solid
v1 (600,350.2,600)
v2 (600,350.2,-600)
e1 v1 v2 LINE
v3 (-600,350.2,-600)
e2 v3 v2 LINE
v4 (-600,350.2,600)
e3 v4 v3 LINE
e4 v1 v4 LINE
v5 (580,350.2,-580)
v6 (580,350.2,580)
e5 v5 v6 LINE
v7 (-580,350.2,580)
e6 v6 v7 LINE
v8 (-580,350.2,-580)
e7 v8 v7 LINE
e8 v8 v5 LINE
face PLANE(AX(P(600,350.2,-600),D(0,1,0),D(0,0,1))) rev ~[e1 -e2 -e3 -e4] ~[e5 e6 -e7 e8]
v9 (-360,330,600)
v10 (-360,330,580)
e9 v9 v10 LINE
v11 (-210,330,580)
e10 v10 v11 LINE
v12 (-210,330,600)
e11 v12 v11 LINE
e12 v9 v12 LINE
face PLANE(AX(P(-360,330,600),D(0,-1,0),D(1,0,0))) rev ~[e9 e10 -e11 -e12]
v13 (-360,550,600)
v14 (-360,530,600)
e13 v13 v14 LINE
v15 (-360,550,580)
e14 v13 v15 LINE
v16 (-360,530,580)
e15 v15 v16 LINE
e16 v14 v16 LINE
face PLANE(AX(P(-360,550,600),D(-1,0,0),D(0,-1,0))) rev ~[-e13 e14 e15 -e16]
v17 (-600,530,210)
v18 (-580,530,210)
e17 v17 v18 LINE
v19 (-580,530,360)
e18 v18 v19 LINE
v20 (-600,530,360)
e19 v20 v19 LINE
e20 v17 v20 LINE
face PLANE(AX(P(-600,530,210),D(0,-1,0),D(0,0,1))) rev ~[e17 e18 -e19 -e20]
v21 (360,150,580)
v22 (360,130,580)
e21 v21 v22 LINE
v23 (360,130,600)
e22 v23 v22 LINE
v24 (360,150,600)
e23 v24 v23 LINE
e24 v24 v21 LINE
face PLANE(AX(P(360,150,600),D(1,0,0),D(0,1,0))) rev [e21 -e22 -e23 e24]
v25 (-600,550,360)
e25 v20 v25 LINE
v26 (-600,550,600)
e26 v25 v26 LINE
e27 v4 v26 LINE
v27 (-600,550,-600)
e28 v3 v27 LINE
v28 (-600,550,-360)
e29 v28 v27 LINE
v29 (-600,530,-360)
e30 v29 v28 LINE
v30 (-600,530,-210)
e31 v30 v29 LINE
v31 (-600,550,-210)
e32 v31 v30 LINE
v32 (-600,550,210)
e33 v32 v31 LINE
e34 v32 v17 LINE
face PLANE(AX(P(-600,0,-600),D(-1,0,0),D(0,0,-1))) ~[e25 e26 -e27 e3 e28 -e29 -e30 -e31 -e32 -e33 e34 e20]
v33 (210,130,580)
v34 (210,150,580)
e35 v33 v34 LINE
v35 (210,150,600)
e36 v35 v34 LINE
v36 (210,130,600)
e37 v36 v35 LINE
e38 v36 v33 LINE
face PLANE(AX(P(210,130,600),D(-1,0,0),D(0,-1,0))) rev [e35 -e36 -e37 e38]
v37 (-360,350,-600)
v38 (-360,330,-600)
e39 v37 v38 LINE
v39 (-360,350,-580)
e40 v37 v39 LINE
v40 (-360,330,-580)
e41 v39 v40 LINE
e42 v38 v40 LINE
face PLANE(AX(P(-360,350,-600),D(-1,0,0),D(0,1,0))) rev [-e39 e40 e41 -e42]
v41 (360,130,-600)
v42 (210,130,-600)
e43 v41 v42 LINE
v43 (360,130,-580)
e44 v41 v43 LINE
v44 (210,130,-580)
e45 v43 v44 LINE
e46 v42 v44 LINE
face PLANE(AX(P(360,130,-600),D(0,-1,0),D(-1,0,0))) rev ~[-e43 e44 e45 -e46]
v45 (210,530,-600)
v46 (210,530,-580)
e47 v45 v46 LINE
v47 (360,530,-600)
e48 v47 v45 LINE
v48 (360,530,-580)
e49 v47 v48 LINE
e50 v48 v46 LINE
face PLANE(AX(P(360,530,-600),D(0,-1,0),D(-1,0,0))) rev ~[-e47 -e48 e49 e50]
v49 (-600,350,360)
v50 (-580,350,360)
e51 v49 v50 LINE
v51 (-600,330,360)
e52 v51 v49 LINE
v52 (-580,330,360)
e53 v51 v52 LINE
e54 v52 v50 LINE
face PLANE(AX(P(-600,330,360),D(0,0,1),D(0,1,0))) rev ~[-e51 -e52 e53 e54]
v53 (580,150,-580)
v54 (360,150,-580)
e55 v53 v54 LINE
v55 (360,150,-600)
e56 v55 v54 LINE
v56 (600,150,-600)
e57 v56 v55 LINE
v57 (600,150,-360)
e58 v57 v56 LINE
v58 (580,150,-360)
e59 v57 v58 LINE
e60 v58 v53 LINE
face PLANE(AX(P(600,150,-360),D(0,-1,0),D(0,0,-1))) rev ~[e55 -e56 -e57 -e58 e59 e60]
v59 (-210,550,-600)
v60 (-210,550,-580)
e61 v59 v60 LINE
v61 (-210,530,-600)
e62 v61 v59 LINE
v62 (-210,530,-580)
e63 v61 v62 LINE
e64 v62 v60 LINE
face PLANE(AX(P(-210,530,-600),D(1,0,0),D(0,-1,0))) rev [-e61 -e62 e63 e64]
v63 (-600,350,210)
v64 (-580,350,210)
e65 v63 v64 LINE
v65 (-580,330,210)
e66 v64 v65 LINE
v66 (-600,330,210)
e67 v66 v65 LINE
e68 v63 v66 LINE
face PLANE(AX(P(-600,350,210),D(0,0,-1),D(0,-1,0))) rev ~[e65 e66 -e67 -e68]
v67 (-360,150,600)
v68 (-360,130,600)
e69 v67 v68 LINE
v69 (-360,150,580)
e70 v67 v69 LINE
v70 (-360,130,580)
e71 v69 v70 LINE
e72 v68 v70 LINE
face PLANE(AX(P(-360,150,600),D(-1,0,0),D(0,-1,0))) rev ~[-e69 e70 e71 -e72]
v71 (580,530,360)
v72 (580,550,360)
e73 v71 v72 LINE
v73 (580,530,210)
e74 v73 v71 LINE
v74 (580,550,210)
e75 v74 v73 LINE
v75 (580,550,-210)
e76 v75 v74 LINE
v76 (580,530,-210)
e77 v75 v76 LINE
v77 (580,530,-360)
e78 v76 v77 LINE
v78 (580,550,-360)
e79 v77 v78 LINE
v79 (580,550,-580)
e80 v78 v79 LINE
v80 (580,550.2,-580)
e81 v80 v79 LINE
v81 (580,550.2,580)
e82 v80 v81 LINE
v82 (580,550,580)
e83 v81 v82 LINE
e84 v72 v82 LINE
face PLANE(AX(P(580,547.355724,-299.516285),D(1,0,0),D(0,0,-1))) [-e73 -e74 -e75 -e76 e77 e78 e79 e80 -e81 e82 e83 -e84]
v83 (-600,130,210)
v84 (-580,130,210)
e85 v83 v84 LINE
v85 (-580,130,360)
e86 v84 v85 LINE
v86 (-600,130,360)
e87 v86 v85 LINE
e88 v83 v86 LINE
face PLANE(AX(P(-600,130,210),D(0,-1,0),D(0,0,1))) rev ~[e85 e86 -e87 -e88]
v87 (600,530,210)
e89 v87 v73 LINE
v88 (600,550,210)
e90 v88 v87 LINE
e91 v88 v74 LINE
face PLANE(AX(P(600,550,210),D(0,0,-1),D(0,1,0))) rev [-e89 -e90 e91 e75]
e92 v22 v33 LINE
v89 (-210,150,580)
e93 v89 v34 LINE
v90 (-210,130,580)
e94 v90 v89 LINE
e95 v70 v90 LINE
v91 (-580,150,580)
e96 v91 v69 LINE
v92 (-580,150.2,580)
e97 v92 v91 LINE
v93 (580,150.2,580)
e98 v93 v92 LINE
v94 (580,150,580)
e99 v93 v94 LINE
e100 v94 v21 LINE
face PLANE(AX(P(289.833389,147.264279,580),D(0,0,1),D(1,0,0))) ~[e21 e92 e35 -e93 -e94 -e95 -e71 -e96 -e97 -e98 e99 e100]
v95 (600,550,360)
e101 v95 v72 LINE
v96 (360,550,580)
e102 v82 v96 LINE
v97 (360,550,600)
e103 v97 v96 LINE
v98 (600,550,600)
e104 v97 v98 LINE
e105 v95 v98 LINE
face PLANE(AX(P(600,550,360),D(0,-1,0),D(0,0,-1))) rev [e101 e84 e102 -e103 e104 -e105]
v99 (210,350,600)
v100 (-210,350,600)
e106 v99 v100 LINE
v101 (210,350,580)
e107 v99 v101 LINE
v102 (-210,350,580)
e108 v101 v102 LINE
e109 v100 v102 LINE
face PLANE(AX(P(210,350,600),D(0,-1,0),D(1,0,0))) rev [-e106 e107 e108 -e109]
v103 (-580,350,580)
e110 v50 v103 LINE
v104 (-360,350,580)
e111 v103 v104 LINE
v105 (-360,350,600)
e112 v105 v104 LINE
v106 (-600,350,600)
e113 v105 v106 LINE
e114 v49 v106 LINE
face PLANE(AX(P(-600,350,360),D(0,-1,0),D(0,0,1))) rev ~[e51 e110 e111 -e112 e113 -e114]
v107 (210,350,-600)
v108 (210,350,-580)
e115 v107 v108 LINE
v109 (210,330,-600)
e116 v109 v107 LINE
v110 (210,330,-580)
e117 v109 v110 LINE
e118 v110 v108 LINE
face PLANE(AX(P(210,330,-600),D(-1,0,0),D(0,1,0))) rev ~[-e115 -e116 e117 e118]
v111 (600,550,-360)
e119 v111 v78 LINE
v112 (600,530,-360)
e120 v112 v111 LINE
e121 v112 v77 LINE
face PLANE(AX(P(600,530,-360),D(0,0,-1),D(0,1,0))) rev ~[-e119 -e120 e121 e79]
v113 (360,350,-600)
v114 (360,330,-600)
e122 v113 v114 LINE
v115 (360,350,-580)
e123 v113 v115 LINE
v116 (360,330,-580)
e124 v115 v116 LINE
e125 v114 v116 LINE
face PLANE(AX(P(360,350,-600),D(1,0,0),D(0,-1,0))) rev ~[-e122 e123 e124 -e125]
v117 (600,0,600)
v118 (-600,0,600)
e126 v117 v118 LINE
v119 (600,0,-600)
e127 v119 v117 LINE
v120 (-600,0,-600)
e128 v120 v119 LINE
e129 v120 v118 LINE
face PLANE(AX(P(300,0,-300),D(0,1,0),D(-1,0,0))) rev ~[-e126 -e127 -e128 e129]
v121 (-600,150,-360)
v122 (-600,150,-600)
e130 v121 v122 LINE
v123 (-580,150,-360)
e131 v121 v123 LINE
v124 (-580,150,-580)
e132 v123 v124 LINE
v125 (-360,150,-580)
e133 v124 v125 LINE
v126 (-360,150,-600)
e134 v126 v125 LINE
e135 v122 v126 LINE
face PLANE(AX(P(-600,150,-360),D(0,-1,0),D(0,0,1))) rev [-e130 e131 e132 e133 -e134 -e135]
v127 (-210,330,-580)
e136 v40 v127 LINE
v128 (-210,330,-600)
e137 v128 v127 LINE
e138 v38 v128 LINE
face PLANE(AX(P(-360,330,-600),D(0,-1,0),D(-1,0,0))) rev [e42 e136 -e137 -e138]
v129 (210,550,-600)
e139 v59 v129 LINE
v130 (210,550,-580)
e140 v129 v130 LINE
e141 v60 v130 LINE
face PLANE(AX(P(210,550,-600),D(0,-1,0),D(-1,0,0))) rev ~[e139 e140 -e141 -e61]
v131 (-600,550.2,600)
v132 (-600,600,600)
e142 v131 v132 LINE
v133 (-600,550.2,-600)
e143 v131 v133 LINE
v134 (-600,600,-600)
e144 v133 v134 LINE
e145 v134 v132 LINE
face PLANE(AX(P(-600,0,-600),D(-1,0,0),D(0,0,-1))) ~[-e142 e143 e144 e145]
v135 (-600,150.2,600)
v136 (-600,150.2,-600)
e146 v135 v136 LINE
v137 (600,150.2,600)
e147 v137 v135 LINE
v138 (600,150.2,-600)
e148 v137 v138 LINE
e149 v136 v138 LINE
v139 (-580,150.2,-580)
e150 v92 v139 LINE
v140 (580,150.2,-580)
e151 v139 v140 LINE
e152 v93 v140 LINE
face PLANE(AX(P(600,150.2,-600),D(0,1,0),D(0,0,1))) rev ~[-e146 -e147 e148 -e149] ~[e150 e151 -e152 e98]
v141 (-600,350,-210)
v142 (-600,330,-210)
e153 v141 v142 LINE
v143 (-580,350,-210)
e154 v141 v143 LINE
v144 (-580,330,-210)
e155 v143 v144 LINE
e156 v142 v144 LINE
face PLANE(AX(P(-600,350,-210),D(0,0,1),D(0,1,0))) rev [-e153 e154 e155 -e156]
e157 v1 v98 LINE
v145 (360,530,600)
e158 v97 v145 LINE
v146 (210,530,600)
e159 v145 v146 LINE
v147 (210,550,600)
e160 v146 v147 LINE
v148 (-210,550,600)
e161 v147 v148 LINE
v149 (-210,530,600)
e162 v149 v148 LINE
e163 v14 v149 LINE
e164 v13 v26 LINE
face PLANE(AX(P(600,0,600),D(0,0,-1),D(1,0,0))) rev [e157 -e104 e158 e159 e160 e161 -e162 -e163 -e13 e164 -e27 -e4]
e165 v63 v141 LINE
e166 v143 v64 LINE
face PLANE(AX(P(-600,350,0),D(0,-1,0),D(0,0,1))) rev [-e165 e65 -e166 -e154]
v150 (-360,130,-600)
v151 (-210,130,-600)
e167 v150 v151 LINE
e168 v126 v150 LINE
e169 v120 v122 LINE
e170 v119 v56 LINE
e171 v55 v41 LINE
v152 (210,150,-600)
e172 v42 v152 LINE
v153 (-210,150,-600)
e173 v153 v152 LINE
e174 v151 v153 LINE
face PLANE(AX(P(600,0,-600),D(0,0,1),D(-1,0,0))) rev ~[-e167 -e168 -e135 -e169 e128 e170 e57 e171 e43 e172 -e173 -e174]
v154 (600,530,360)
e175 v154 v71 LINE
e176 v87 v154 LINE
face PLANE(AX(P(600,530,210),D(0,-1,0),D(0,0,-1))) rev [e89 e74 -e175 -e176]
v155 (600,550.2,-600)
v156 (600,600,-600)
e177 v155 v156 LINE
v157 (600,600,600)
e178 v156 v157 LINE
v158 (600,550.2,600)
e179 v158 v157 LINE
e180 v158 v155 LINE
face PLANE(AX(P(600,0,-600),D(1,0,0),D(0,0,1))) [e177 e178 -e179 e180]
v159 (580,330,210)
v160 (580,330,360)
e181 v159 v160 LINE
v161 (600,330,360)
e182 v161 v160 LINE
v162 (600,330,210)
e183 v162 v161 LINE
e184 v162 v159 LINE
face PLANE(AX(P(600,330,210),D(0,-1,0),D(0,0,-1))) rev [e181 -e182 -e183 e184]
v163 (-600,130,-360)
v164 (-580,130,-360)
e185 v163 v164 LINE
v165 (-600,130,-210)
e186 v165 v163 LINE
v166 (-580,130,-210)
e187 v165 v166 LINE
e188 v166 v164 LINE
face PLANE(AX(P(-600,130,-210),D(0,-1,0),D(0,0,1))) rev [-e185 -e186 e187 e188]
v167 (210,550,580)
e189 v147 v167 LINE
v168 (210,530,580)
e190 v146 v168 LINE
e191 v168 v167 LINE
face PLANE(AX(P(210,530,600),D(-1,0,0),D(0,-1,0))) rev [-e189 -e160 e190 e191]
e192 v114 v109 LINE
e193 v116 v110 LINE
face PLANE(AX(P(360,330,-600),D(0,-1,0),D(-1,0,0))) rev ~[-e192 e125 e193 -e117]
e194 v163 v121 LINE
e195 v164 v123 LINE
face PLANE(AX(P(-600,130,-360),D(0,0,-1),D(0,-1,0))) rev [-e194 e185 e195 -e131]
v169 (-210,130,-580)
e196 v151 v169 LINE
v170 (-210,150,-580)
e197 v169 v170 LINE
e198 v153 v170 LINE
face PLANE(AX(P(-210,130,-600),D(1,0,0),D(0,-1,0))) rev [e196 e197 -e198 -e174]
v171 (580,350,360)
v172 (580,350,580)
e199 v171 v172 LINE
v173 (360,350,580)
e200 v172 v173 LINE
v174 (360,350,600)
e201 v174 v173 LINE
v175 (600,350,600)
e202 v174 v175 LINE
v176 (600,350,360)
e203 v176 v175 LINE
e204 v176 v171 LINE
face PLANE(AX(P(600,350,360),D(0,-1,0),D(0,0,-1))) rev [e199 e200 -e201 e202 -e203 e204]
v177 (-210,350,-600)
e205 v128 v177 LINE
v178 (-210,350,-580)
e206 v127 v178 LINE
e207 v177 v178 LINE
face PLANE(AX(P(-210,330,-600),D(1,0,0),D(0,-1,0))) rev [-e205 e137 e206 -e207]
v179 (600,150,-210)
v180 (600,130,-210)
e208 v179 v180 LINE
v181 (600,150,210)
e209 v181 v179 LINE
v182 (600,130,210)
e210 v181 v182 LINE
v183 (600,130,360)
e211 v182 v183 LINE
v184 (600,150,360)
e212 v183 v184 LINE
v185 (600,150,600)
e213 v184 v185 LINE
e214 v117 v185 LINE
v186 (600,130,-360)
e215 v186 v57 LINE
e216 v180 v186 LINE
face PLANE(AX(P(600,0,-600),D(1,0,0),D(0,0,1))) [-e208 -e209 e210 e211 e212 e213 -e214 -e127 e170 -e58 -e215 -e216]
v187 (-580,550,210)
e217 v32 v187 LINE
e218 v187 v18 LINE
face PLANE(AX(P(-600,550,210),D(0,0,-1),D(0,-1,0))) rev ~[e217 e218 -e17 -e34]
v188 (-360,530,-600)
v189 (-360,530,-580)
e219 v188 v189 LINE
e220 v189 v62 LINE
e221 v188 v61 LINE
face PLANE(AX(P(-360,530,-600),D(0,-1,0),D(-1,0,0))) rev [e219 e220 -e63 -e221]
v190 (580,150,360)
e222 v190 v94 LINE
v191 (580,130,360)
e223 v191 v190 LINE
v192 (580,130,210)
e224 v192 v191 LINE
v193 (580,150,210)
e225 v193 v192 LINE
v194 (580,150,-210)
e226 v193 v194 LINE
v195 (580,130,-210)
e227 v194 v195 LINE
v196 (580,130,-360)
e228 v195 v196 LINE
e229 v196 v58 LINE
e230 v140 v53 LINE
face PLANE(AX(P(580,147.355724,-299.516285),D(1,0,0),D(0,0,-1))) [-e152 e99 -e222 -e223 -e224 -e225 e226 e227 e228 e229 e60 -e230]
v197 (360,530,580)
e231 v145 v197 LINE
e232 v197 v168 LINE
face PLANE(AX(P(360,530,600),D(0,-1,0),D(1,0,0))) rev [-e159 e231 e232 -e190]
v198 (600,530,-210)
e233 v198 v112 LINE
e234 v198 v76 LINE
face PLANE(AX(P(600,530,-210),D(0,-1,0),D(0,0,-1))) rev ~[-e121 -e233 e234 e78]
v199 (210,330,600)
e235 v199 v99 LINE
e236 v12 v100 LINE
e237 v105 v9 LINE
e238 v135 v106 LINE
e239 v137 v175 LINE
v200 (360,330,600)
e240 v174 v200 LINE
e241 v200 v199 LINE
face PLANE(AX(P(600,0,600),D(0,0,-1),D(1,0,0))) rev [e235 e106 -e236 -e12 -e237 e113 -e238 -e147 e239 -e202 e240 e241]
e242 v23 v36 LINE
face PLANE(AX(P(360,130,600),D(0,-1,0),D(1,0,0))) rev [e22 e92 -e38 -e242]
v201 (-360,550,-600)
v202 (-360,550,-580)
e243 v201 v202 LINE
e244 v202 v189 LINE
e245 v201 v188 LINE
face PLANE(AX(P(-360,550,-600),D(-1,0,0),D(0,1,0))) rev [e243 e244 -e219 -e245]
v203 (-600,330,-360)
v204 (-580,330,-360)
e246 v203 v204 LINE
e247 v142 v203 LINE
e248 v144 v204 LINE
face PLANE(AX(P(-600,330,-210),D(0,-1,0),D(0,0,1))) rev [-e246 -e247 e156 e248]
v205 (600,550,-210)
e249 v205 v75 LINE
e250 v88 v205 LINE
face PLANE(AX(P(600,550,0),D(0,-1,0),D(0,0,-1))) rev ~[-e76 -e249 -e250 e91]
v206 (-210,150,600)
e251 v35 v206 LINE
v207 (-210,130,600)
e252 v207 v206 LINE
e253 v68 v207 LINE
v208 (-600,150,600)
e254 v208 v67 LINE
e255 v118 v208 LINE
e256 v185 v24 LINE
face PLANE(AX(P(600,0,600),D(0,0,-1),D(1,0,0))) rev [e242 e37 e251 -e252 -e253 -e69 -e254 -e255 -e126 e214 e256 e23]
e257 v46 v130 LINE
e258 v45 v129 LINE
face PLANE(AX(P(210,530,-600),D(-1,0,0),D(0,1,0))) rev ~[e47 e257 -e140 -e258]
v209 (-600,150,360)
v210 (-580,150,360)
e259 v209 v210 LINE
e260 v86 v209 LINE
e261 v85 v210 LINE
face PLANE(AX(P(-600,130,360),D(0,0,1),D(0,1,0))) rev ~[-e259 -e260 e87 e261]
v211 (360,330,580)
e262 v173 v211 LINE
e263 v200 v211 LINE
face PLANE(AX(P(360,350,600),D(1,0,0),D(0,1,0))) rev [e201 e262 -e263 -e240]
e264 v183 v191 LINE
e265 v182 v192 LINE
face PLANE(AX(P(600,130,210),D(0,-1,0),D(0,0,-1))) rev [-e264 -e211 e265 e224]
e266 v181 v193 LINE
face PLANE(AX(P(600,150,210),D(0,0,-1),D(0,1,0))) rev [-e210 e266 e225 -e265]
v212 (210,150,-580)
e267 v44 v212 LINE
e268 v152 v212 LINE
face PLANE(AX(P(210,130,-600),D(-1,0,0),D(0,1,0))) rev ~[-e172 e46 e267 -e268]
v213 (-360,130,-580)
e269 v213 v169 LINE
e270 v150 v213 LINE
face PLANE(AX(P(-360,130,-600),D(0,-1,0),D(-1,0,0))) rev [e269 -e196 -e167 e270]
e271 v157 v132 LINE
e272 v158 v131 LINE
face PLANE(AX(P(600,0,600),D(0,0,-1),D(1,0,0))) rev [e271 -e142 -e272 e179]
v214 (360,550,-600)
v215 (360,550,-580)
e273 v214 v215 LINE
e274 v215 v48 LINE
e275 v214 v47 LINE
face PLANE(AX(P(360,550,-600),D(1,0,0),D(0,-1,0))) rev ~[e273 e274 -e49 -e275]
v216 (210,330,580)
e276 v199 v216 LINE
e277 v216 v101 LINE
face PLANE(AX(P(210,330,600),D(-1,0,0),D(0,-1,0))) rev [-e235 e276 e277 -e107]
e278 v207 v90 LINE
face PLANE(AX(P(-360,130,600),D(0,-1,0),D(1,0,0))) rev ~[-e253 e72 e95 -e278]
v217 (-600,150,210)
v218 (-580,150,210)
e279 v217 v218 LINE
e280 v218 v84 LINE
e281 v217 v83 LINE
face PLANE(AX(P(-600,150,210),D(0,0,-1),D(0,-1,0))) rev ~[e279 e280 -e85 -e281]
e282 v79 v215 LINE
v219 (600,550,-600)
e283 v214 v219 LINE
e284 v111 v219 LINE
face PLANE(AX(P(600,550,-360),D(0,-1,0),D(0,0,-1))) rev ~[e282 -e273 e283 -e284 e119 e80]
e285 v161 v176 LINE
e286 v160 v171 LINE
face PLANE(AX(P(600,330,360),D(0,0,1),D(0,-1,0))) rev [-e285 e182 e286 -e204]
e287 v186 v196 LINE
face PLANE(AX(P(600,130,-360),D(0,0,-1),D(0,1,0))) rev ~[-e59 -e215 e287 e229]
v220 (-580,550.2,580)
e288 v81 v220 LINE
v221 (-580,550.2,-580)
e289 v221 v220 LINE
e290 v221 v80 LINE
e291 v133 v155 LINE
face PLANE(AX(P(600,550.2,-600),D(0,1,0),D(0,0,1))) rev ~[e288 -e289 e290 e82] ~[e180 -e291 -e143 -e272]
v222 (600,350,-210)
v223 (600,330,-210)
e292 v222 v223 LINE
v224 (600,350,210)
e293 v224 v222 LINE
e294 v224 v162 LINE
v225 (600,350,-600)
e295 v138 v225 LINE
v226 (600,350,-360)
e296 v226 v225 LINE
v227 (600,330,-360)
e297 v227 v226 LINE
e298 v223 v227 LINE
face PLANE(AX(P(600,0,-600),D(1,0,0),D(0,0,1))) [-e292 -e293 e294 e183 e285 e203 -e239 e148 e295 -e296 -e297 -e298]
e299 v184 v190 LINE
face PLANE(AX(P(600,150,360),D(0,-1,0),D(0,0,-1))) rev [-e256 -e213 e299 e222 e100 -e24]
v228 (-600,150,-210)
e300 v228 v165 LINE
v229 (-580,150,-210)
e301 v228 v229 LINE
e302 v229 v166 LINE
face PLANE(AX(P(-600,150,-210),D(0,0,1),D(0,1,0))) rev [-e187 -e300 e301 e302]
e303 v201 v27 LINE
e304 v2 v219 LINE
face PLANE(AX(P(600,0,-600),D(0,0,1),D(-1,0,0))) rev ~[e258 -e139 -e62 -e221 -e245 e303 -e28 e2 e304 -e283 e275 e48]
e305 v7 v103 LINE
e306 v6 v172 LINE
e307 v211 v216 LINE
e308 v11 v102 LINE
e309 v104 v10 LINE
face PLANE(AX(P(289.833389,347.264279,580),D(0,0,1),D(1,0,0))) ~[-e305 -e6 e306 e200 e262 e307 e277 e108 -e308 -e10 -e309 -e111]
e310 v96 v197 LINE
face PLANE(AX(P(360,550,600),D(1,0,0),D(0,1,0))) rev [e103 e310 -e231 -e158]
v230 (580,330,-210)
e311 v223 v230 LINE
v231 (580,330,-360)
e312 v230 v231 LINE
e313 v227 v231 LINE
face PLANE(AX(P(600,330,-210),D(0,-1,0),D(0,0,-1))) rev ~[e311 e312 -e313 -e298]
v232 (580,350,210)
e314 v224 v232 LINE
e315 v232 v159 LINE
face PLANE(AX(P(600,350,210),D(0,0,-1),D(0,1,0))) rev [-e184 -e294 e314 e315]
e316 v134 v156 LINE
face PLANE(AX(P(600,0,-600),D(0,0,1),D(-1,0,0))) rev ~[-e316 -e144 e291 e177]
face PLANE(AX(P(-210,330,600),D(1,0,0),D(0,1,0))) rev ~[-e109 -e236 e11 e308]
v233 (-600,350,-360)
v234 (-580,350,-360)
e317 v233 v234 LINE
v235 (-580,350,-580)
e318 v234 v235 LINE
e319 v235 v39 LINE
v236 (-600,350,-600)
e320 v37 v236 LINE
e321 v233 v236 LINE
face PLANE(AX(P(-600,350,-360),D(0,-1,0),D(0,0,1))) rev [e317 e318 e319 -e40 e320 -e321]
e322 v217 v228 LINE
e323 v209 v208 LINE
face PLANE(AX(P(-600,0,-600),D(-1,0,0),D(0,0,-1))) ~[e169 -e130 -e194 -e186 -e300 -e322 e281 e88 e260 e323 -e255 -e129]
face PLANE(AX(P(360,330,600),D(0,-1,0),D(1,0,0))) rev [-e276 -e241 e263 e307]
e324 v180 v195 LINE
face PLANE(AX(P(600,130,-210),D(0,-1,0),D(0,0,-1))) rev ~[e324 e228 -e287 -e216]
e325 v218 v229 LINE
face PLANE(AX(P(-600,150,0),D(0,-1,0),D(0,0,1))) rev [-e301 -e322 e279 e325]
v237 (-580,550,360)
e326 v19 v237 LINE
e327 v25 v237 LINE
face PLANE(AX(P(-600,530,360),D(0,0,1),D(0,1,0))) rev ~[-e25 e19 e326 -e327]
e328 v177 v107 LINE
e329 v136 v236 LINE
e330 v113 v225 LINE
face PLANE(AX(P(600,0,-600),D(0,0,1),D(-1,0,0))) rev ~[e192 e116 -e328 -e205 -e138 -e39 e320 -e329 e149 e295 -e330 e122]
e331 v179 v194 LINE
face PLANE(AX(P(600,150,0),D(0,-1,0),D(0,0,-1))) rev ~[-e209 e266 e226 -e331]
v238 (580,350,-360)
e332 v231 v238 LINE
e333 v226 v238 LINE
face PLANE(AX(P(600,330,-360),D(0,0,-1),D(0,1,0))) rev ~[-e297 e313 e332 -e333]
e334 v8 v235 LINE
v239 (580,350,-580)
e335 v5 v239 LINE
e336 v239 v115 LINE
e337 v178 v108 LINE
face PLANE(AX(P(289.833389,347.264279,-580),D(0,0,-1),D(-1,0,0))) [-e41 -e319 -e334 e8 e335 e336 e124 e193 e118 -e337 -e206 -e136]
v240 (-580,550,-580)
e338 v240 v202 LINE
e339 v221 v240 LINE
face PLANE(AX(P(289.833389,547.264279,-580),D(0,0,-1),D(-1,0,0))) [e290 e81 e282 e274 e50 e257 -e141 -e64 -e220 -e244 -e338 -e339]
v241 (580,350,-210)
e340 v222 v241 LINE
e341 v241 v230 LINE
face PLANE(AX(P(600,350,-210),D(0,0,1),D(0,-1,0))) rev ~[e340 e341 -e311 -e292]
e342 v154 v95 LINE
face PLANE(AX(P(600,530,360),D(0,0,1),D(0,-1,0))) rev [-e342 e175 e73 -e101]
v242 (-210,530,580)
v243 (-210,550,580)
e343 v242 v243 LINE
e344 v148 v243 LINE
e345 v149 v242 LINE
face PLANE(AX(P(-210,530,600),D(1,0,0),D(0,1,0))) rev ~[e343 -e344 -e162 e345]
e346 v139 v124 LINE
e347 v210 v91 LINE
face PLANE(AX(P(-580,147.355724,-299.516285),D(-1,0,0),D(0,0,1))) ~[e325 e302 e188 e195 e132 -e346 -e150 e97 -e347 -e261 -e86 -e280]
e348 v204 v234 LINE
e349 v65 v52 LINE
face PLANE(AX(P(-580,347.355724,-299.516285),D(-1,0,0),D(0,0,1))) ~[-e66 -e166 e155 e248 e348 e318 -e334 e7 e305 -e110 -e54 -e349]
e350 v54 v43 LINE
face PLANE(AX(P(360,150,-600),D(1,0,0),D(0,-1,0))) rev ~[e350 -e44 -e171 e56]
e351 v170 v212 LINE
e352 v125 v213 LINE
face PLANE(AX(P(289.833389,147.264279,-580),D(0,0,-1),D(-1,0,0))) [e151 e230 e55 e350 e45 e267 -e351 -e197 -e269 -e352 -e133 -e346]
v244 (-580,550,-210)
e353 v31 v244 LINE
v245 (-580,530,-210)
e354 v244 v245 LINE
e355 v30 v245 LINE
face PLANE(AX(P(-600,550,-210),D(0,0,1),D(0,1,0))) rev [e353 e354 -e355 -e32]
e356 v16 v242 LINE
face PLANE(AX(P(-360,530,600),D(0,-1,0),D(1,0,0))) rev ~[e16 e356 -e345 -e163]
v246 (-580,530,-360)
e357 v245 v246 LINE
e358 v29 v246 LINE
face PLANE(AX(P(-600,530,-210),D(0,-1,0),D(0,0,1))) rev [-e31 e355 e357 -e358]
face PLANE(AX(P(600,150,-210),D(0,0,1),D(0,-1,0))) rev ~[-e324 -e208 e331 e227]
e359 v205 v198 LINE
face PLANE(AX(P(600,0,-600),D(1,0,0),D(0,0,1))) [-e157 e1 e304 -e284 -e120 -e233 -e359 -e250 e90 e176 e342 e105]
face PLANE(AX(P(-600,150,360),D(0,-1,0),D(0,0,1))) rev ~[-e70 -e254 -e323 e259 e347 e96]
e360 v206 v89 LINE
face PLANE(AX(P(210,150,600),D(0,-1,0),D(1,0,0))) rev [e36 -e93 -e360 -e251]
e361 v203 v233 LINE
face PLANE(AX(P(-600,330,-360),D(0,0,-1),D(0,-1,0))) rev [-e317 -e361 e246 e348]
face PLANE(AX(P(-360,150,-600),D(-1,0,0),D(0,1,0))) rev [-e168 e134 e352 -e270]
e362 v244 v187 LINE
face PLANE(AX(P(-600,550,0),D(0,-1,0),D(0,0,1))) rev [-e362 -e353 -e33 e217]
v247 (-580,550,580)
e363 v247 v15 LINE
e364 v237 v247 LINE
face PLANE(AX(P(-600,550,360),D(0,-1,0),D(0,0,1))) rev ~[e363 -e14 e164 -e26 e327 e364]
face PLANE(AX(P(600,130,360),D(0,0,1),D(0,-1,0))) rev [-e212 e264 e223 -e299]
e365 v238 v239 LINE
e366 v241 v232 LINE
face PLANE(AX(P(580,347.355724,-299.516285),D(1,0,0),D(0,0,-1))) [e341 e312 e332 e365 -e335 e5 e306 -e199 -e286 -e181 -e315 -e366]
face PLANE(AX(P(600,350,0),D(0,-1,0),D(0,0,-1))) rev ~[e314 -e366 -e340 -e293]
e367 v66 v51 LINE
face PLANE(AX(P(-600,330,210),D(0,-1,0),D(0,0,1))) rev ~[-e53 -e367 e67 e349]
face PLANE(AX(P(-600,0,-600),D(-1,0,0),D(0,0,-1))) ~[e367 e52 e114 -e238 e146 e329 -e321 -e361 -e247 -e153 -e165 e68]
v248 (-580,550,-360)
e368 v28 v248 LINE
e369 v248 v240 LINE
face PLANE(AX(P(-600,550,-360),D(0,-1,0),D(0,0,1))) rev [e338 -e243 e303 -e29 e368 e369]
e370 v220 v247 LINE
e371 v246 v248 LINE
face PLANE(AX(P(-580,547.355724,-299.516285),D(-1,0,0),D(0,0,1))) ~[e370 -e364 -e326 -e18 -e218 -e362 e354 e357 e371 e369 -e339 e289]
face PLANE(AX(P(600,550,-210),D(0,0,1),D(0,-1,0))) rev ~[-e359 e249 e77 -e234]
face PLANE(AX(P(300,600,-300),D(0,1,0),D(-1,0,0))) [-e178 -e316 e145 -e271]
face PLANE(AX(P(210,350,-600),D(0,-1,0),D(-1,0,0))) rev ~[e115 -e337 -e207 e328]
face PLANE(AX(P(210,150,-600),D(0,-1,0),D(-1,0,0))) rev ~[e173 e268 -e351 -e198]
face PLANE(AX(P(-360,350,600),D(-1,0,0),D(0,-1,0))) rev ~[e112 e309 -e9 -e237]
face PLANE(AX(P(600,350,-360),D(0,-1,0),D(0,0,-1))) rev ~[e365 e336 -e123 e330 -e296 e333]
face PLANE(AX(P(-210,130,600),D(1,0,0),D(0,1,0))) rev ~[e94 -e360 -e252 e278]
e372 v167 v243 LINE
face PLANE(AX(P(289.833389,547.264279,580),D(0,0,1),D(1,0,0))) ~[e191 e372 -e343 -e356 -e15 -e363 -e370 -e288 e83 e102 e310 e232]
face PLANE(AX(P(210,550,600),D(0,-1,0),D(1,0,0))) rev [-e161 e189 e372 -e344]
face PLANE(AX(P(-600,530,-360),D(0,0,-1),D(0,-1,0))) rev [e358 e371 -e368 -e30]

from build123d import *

# Parameters (mm, degrees)
SKETCH_1_W             = 600
SKETCH_1_H             = 600
EXTRUDE_1_DEPTH        = 600
CUT_EXTRUDE_1_DEPTH    = 20
CUT_EXTRUDE_2_DEPTH    = 20
PATTERN_LINEAR_1_COUNT = 3
PATTERN_LINEAR_1_PITCH = 200


with BuildPart() as part:
    # 草图1 → 凸台-拉伸1 (new body)
    with BuildSketch(Plane(origin=(0, 0, 0), x_dir=(1, 0, 0), z_dir=(0, 1, 0))):
        with Locations((-300, -300)):
            Rectangle(SKETCH_1_W, SKETCH_1_H)
    extrude(amount=EXTRUDE_1_DEPTH)

    # 草图2 → 切除-拉伸1 (cut)
    with BuildSketch(Plane.ZY.offset(600)):
        Polygon((600, 150.2), (0, 150.2), (0, 150), (210, 150), (210, 130), (360, 130), (360, 150), (600, 150), align=None)
    cut_extrude_1 = extrude(amount=-CUT_EXTRUDE_1_DEPTH, mode=Mode.SUBTRACT)

    # 草图3 → 切除-拉伸2 (cut)
    with BuildSketch(Plane.XY.offset(600)):
        Polygon((-580, 150.2), (-580, 150), (-360, 150), (-360, 130), (-210, 130), (-210, 150), (0, 150), (0, 150.2), align=None)
    cut_extrude_2 = extrude(amount=-CUT_EXTRUDE_2_DEPTH, mode=Mode.SUBTRACT)

    # 阵列(线性)1: 切除-拉伸1, 切除-拉伸2 ×3
    with Locations(*[(0, i * PATTERN_LINEAR_1_PITCH, 0) for i in range(1, PATTERN_LINEAR_1_COUNT)]):
        add(cut_extrude_1, mode=Mode.SUBTRACT)
        add(cut_extrude_2, mode=Mode.SUBTRACT)

    # 镜向1: part across plane


with BuildPart() as part_1:
    add(part.part)
    add(part.part.mirror(Plane(origin=(0, 600, 0), x_dir=(1, 0, 0), z_dir=(0, 0, 1))))

    # 镜向2: part across plane


with BuildPart() as part_2:
    add(part_1.part)
    add(part_1.part.mirror(Plane(origin=(0, 600, 0), x_dir=(0, 0, 1), z_dir=(-1, 0, 0))))


solid = part_2.part
